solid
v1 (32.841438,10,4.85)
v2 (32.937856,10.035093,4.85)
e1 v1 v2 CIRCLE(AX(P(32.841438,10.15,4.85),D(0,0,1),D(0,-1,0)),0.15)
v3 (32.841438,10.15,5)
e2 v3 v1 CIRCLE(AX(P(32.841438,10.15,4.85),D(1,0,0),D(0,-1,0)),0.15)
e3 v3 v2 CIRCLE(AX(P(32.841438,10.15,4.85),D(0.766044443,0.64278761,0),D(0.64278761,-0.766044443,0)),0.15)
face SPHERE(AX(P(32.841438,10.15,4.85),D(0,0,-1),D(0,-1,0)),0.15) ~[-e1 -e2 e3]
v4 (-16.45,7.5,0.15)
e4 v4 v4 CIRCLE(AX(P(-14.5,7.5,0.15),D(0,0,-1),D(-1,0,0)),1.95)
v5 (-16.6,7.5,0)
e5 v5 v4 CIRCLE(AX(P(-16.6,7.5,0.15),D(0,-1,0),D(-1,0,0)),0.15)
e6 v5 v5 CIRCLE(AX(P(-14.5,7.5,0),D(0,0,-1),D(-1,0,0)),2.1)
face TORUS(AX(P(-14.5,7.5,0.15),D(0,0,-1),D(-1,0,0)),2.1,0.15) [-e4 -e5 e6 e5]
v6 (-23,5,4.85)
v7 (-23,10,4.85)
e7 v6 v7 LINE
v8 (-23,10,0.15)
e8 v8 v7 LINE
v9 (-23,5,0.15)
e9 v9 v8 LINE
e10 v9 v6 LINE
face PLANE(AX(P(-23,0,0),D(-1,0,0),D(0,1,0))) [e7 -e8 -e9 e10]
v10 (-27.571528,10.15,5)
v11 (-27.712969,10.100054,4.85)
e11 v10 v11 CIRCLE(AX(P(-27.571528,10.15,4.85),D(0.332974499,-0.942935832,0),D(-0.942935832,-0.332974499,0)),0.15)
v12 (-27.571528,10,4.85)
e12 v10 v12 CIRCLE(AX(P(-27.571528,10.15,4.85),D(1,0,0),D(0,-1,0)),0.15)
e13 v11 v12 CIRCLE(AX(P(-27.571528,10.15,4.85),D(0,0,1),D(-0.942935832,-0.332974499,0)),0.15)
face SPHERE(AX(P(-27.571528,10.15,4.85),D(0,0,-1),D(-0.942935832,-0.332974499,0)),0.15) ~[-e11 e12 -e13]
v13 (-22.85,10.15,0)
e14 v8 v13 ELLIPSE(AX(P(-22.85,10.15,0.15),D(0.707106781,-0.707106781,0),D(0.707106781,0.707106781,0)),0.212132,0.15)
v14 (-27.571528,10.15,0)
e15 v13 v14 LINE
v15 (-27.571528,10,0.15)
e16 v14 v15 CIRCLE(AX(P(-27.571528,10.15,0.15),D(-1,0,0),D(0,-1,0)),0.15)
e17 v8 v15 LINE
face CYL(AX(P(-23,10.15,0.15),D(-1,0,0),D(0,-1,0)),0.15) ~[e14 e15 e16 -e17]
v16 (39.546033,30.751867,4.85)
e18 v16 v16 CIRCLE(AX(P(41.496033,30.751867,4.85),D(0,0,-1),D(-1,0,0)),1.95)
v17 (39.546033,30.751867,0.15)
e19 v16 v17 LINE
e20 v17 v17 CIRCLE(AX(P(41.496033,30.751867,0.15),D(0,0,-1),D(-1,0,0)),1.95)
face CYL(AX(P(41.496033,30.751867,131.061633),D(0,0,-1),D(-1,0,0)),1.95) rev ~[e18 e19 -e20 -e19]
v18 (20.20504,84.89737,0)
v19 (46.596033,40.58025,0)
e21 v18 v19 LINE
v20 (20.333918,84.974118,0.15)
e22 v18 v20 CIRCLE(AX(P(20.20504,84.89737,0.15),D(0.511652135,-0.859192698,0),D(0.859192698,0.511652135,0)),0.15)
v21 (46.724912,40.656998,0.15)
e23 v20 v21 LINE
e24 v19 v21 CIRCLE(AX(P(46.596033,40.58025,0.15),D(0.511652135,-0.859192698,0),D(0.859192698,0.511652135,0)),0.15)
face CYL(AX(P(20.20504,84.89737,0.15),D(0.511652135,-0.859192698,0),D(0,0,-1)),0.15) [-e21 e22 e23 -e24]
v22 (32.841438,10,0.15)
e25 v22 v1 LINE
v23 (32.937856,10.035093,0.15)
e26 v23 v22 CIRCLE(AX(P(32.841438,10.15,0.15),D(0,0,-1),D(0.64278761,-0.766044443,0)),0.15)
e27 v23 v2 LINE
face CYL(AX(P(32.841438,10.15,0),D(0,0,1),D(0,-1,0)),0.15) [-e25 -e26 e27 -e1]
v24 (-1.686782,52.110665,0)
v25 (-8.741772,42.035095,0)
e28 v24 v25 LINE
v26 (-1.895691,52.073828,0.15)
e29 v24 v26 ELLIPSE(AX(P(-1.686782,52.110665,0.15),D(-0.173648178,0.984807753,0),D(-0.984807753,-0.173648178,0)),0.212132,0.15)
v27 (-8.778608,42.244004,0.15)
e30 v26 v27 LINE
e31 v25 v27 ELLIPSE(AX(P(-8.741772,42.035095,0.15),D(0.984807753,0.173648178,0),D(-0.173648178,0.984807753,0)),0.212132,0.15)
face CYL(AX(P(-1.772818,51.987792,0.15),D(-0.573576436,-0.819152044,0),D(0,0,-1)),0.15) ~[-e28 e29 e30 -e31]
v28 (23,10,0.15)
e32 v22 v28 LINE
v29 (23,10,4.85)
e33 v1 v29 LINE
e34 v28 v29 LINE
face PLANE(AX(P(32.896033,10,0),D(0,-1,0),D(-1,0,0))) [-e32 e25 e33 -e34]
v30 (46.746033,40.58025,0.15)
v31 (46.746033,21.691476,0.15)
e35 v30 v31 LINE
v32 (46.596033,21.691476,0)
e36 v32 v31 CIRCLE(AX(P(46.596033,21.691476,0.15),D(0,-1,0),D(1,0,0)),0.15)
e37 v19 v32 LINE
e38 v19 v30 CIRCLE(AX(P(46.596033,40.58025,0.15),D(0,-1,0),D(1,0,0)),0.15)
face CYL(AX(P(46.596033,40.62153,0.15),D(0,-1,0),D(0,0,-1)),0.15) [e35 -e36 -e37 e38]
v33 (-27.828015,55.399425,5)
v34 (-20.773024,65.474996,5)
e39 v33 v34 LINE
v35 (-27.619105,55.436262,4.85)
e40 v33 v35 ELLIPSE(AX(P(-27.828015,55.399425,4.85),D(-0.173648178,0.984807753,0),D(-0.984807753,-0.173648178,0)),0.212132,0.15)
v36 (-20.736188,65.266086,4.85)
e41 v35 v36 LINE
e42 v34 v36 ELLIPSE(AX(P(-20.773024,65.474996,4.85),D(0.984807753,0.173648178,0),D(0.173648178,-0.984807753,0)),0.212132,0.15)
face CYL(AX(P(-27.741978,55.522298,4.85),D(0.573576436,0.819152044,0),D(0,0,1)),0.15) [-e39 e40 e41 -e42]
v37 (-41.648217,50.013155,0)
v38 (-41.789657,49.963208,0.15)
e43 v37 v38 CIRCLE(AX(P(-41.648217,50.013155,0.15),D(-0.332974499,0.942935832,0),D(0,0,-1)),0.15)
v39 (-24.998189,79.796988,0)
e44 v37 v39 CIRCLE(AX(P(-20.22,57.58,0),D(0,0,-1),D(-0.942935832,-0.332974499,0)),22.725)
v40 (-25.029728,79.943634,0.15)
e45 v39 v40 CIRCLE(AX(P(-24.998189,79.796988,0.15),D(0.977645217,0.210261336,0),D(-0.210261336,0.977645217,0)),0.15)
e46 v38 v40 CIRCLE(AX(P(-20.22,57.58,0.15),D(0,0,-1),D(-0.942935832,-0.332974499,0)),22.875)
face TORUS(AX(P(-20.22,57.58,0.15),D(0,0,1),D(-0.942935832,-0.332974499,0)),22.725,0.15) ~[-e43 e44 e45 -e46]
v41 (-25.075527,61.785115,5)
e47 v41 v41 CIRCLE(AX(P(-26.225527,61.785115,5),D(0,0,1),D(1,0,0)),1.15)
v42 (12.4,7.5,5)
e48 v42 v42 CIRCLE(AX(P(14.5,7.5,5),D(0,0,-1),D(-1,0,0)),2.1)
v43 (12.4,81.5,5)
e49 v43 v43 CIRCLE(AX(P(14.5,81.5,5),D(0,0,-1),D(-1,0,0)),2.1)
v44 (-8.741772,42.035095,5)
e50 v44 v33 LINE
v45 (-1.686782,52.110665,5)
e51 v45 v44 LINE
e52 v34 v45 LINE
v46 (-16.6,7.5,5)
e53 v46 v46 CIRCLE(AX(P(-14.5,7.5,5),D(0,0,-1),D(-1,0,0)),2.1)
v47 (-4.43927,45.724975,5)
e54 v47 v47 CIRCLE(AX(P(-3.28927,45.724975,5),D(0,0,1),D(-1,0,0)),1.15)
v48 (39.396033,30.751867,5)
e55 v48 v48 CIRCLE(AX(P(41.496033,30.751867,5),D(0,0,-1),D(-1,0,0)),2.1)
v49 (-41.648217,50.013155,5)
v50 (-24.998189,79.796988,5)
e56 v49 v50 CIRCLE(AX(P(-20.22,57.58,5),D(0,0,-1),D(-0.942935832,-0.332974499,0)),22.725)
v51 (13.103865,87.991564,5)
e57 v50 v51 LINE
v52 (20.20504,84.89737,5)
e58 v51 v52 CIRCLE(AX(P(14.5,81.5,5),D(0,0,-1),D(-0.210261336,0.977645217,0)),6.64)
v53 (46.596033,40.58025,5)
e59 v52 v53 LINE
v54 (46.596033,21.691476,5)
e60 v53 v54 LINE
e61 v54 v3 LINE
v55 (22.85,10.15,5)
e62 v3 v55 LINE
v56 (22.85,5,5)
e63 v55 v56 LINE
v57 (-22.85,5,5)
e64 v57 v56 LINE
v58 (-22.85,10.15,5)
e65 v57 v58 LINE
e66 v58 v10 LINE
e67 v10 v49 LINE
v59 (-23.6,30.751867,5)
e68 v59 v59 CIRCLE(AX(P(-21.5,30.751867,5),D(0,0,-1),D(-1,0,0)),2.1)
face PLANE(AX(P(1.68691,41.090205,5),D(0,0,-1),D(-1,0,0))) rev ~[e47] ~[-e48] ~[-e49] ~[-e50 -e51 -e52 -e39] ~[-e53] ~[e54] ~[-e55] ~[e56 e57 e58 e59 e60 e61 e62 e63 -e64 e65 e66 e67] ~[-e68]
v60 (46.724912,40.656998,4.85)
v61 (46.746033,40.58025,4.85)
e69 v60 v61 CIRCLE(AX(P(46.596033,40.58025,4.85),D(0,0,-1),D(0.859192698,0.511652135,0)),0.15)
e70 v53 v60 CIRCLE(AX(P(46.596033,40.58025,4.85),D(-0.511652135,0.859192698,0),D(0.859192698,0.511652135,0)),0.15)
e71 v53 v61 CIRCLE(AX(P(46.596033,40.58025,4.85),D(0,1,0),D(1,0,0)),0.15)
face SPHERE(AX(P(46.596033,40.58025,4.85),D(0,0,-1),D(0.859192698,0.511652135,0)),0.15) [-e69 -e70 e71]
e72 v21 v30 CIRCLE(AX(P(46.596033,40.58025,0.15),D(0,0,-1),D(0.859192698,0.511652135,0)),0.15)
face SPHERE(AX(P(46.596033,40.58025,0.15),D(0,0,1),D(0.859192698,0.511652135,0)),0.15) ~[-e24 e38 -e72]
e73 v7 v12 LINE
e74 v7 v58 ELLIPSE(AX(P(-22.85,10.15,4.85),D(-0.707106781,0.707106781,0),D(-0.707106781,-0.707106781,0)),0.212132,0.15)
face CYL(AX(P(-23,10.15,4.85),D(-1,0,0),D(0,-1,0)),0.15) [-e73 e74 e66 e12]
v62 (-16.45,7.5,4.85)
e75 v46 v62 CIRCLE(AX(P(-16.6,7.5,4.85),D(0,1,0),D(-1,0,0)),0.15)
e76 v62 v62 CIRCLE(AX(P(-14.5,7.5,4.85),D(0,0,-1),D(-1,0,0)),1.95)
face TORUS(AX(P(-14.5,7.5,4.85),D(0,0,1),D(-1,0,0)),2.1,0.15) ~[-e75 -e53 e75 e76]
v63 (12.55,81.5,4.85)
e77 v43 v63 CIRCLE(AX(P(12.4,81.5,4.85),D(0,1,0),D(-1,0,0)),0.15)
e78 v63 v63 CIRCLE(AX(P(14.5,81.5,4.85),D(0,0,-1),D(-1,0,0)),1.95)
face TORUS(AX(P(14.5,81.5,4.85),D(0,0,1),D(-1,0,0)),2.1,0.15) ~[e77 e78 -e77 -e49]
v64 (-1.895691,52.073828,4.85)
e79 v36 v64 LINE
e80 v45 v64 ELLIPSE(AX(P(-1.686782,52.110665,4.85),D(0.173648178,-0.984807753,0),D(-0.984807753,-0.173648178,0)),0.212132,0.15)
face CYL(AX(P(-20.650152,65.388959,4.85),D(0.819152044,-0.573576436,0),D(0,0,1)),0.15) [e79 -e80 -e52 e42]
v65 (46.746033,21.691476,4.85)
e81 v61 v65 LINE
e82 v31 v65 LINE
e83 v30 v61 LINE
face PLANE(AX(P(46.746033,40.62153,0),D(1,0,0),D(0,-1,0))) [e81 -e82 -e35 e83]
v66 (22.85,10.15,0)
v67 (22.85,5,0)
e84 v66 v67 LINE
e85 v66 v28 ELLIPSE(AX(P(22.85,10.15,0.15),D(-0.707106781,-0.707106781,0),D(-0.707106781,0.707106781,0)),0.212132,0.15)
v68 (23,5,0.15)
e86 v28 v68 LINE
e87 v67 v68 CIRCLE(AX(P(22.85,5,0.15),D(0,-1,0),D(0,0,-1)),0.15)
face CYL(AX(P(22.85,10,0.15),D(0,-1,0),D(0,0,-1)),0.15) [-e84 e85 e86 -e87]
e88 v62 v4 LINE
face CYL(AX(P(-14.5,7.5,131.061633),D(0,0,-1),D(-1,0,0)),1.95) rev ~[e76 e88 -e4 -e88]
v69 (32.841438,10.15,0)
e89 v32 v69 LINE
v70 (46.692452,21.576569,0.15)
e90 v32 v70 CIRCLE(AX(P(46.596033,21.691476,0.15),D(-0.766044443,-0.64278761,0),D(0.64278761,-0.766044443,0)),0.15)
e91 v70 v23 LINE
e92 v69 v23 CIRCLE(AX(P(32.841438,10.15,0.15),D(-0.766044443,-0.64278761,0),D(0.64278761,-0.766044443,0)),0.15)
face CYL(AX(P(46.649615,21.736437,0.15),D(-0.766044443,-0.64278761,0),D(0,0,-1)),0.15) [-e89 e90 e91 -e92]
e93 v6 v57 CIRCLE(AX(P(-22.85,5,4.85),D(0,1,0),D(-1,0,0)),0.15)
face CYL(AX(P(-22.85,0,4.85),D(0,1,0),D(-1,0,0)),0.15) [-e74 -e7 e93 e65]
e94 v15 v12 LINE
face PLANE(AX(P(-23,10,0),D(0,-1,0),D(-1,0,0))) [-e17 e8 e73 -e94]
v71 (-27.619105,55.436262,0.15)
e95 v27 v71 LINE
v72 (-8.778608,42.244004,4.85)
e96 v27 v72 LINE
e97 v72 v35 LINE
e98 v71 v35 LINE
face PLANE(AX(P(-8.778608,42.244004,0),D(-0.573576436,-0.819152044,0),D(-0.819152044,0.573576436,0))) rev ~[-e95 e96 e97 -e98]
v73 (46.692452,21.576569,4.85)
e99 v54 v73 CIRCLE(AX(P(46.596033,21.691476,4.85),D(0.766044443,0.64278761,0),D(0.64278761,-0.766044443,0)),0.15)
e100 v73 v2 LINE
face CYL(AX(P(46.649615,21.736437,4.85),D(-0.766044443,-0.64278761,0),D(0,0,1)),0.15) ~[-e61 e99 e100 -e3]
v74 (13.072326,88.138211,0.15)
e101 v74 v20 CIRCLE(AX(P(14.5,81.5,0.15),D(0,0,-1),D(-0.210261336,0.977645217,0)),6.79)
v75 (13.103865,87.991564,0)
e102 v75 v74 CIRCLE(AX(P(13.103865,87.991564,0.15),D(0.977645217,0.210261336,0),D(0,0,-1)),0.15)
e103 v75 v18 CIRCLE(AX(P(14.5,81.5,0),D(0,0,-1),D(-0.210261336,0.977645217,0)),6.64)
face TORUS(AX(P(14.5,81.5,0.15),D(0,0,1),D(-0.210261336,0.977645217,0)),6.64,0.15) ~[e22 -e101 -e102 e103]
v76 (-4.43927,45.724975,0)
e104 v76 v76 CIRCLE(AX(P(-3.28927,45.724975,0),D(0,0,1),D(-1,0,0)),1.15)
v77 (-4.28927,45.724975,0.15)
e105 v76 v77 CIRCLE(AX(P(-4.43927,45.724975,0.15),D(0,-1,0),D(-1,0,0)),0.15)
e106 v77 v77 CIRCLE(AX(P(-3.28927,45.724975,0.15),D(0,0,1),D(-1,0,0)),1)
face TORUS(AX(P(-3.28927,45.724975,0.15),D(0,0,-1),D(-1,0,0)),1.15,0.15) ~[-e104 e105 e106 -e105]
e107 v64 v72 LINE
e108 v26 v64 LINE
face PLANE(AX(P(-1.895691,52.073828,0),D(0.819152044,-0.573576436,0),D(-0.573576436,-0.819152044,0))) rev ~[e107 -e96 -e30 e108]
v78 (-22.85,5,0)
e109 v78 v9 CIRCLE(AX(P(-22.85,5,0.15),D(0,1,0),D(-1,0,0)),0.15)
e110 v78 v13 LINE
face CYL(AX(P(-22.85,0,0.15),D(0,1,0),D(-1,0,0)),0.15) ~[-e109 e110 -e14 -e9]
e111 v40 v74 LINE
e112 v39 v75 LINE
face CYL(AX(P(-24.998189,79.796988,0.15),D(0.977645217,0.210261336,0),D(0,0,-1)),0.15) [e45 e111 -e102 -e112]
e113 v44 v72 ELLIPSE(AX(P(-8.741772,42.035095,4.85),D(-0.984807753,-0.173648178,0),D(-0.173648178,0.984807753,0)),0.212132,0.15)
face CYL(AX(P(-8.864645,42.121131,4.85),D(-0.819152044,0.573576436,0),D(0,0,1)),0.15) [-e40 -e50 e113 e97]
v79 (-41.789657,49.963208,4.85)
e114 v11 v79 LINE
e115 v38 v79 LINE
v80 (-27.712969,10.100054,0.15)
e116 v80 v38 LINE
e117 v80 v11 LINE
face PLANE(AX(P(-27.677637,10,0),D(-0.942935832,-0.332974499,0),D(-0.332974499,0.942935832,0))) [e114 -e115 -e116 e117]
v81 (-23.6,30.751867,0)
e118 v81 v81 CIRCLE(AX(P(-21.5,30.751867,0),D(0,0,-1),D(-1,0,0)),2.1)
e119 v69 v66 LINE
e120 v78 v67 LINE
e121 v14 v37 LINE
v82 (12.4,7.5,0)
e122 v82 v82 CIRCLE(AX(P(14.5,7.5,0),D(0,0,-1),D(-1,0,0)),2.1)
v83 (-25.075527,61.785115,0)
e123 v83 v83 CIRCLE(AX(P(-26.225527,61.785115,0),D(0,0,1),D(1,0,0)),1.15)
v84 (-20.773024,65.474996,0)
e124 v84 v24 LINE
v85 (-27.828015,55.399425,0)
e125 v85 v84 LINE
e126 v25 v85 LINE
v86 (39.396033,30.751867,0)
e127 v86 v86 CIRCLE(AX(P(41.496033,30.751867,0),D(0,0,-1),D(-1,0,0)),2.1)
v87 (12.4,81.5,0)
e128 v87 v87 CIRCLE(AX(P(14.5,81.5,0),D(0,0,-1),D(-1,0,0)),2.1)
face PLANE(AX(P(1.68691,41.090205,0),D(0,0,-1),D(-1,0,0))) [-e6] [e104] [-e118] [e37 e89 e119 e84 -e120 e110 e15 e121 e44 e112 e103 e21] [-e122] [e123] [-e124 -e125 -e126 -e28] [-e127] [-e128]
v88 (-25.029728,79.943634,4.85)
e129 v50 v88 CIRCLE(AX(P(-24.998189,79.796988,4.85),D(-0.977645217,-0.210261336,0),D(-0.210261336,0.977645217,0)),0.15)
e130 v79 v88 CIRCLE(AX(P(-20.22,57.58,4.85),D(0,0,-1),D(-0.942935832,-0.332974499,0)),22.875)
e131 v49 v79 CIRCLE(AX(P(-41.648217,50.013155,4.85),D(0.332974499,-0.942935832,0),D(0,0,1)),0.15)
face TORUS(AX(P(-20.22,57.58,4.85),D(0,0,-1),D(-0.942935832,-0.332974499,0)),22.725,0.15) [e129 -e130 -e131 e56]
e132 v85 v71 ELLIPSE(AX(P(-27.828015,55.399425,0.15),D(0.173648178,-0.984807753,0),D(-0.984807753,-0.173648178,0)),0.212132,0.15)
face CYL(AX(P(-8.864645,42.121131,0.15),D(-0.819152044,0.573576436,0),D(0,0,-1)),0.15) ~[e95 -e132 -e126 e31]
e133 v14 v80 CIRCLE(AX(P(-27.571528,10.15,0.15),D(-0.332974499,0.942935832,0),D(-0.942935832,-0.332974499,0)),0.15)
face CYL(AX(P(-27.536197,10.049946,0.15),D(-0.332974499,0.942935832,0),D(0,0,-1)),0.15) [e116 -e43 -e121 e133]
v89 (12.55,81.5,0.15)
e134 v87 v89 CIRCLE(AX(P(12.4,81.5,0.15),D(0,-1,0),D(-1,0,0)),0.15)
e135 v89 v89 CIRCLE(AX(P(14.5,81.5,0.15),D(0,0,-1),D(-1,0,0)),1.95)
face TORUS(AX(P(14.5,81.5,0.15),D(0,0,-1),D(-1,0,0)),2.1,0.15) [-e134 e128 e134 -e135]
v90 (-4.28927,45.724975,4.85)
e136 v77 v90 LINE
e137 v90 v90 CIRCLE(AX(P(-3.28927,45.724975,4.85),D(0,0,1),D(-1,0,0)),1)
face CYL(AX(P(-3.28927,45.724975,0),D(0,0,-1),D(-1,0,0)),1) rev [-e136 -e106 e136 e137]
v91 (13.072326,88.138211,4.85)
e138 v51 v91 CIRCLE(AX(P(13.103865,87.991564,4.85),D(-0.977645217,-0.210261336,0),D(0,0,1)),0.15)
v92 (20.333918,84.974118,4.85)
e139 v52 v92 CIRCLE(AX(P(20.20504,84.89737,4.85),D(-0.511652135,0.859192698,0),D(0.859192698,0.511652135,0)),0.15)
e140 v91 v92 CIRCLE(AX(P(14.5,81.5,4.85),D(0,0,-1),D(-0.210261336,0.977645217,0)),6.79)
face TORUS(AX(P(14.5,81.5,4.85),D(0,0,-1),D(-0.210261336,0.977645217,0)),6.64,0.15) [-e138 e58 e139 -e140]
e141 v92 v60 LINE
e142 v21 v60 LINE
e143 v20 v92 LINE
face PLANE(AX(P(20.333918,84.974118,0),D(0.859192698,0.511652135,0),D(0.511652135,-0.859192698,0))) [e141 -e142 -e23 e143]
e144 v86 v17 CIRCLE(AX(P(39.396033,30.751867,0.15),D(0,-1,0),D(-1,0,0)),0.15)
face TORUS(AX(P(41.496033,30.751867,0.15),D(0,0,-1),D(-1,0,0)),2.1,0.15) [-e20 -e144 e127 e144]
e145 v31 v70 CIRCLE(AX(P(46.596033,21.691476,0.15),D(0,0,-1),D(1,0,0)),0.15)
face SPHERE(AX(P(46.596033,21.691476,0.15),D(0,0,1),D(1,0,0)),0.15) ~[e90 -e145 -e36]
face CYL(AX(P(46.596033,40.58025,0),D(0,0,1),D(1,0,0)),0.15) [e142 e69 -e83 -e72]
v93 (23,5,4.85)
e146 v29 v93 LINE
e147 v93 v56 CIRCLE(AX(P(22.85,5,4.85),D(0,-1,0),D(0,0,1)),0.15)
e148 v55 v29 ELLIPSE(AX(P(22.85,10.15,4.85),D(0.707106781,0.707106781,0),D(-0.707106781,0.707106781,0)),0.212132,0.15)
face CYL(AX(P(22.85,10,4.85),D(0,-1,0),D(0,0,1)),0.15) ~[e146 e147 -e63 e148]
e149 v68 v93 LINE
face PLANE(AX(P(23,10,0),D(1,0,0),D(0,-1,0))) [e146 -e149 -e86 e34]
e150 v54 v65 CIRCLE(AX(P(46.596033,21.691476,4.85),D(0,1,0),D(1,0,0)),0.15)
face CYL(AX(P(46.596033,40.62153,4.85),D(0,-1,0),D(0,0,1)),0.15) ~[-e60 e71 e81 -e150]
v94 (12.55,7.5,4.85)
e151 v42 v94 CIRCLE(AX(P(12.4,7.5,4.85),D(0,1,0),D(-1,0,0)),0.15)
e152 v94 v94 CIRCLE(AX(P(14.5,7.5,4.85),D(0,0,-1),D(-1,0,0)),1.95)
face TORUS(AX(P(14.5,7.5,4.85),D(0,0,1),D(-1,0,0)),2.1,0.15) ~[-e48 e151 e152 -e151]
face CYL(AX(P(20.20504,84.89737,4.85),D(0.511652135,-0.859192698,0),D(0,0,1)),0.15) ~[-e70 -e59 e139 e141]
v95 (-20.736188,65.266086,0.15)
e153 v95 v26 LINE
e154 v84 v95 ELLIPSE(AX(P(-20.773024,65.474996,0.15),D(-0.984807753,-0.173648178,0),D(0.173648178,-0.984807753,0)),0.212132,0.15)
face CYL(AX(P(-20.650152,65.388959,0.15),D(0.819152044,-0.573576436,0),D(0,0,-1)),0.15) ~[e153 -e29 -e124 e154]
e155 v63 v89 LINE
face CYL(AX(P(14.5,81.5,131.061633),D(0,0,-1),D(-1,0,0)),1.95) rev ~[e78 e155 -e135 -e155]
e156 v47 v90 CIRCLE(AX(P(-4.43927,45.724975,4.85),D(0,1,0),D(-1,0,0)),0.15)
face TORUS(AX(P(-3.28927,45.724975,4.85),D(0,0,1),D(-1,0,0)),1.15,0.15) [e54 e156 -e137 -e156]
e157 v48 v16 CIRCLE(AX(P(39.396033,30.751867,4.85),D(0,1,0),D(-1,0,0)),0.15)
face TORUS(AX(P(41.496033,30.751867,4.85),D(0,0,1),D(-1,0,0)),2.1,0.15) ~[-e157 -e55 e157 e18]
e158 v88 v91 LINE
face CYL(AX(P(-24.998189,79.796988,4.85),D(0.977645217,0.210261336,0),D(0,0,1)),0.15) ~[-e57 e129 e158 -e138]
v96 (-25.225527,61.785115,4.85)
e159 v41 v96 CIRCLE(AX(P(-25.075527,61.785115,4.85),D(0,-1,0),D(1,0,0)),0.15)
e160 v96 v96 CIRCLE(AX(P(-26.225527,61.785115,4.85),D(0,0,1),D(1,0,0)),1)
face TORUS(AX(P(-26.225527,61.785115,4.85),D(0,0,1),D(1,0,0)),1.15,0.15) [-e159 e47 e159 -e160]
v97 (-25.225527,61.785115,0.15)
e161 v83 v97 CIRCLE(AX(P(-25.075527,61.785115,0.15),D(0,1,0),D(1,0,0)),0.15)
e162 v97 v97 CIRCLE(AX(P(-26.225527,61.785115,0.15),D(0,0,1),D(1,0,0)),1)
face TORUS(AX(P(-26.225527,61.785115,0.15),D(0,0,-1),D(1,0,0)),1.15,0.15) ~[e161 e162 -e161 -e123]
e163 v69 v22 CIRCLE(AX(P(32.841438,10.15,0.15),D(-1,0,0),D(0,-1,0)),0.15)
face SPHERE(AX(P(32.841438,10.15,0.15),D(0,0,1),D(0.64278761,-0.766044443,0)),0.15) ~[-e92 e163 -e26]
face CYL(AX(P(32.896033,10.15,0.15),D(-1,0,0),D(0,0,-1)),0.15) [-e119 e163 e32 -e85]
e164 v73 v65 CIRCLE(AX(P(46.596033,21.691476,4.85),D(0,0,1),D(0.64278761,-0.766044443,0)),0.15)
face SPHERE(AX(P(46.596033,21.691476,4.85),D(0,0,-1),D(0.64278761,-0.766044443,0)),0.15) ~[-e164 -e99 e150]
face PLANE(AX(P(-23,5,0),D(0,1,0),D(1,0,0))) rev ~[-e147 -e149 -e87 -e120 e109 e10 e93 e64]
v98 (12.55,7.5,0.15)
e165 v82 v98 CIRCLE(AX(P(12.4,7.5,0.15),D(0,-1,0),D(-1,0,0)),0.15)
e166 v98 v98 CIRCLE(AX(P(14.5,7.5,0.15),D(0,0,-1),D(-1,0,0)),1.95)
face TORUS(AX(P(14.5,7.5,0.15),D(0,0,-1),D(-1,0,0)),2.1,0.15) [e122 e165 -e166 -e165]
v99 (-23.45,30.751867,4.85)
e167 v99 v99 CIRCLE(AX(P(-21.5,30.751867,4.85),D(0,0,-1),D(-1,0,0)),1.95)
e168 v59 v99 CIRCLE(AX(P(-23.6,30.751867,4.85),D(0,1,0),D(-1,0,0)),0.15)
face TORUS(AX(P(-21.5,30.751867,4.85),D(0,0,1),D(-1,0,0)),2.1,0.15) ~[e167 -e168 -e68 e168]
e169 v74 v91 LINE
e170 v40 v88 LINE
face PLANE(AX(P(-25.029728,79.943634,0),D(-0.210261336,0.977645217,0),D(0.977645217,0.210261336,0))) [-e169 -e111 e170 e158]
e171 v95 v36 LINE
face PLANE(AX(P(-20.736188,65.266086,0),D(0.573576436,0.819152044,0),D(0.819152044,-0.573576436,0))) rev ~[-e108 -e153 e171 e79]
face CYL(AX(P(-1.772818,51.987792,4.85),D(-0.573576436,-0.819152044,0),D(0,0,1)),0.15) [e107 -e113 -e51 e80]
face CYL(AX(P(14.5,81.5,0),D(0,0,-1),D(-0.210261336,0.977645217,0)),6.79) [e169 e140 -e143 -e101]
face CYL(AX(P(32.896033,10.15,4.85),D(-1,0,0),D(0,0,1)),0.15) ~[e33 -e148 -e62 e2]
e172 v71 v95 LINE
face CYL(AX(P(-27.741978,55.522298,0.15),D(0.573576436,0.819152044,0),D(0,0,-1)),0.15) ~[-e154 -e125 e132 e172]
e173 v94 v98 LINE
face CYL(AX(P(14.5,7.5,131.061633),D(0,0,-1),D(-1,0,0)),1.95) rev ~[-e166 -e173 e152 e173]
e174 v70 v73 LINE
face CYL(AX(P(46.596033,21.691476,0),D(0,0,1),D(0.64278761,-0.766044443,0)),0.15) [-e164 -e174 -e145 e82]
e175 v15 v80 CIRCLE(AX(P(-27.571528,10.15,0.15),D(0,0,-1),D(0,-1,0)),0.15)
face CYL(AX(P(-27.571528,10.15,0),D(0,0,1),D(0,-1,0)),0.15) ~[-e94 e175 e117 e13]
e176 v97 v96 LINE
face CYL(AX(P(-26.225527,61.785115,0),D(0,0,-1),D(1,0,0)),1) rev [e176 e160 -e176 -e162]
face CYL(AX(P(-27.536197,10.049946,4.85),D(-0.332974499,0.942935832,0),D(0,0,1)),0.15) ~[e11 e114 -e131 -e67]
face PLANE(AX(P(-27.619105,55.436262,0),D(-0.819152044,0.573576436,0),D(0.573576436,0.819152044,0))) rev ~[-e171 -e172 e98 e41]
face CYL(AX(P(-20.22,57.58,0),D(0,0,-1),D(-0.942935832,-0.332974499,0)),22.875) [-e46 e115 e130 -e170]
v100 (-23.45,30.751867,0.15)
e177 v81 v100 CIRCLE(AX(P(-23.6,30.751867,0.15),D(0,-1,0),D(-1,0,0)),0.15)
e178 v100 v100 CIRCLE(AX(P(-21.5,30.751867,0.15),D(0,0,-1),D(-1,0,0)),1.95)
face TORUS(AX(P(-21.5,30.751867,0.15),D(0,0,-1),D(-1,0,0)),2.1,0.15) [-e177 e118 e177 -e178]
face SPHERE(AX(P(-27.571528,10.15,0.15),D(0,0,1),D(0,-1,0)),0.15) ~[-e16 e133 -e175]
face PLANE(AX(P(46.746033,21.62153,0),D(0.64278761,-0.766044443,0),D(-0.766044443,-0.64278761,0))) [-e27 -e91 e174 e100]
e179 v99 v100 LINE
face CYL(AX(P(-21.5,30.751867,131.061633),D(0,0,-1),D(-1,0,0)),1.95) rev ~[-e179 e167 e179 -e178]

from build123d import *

# Parameters (mm, degrees)
SKETCH1_R              = 1
BOSS_EXTRUDE1_DEPTH    = 5
M3_5_CLEARANCE_HOLE1_D = 3.9
FILLET1_R              = 0.15
SKETCH6_W              = 46
SKETCH6_H              = 5
CUT_EXTRUDE1_DEPTH     = 101.026575199


with BuildPart() as part:
    # Sketch1 → Boss-Extrude1 (new body)
    with BuildSketch(Plane.XY):
        with BuildLine():
            Line((-23, 0), (-23, 10))
            Line((-23, 10), (-27.677637192, 10))
            Line((-27.677637192, 10), (-41.789657152, 49.963208331))
            ThreePointArc((-41.789657152, 49.963208331), (-40.186834427, 68.742040492), (-25.029728066, 79.943634341))
            Line((-25.029728066, 79.943634341), (13.072325527, 88.138211024))
            ThreePointArc((13.072325527, 88.138211024), (17.212308537, 87.724747577), (20.333918421, 84.974117998))
            Line((20.333918421, 84.974117998), (46.74603348, 40.621529892))
            Line((46.74603348, 40.621529892), (46.74603348, 21.621529892))
            Line((46.74603348, 21.621529892), (32.89603348, 10))
            Line((32.89603348, 10), (23, 10))
            Line((23, 10), (23, 0))
            Line((23, 0), (-23, 0))
        make_face()
        with Locations((-26.225526871, 61.785115186)):
            Circle(SKETCH1_R, mode=Mode.SUBTRACT)
        with Locations(Location((-3.289269631, 45.724974968, 0), (0, 0, 180))):
            Circle(SKETCH1_R, mode=Mode.SUBTRACT)
        Polygon((-27.619105379, 55.43626183), (-20.736188142, 65.266086361), (-1.895691124, 52.073828325), (-8.77860836, 42.244003794), align=None, mode=Mode.SUBTRACT)
    extrude(amount=BOSS_EXTRUDE1_DEPTH)

    # M3.5 Clearance Hole1 (through all)
    with Locations(Plane.XY.offset(5)):
        with Locations((14.5, 81.5), (41.49603348, 30.751867008), (14.5, 7.5), (-14.5, 7.5), (-21.5, 30.751867008)):
            Hole(M3_5_CLEARANCE_HOLE1_D / 2)

    # Fillet1
    fillet1_edges = [part.edges().sort_by_distance(p)[0] for p in [
        (-23, 5, 0),
        (-25.338818596, 10, 0),
        (27.94801674, 10, 5),
        (-34.733647172, 29.981604166, 0),
        (-40.186834427, 68.742040492, 0),
        (-5.978701269, 84.040922682, 0),
        (17.212308537, 87.724747577, 0),
        (33.53997595, 62.797823945, 0),
        (46.74603348, 31.121529892, 0),
        (39.82103348, 15.810764946, 0),
        (27.94801674, 10, 0),
        (23, 5, 0),
        (0, 0, 0),
        (39.82103348, 15.810764946, 5),
        (-23, 0, 2.5),
        (-27.677637192, 10, 2.5),
        (46.74603348, 31.121529892, 5),
        (46.74603348, 40.621529892, 2.5),
        (46.74603348, 21.621529892, 2.5),
        (32.89603348, 10, 2.5),
        (23, 0, 2.5),
        (33.53997595, 62.797823945, 5),
        (17.212308537, 87.724747577, 5),
        (-5.978701269, 84.040922682, 5),
        (-18.198856869, 48.840132812, 0),
        (-5.337149742, 47.158916059, 0),
        (-11.315939633, 58.669957343, 0),
        (-24.177646761, 60.351174095, 0),
        (-18.198856869, 48.840132812, 5),
        (-5.337149742, 47.158916059, 5),
        (-11.315939633, 58.669957343, 5),
        (-24.177646761, 60.351174095, 5),
        (-40.186834427, 68.742040492, 5),
        (-34.733647172, 29.981604166, 5),
        (-27.225526871, 61.785115186, 0),
        (-27.225526871, 61.785115186, 5),
        (-25.338818596, 10, 5),
        (-2.289269631, 45.724974968, 0),
        (-2.289269631, 45.724974968, 5),
        (-23, 5, 5),
        (0, 0, 5),
        (-19.55, 30.751867008, 5),
        (-19.55, 30.751867008, 0),
        (-12.55, 7.5, 5),
        (-12.55, 7.5, 0),
        (16.45, 7.5, 5),
        (16.45, 7.5, 0),
        (43.44603348, 30.751867008, 5),
        (43.44603348, 30.751867008, 0),
        (16.45, 81.5, 5),
        (16.45, 81.5, 0),
        (23, 5, 5),
    ]]
    fillet(fillet1_edges, radius=FILLET1_R)

    # Sketch6 → Cut-Extrude1 (cut, through all)
    with BuildSketch(Plane.XY):
        with Locations((0, 2.5)):
            Rectangle(SKETCH6_W, SKETCH6_H)
    extrude(amount=CUT_EXTRUDE1_DEPTH, mode=Mode.SUBTRACT)


solid = part.part
